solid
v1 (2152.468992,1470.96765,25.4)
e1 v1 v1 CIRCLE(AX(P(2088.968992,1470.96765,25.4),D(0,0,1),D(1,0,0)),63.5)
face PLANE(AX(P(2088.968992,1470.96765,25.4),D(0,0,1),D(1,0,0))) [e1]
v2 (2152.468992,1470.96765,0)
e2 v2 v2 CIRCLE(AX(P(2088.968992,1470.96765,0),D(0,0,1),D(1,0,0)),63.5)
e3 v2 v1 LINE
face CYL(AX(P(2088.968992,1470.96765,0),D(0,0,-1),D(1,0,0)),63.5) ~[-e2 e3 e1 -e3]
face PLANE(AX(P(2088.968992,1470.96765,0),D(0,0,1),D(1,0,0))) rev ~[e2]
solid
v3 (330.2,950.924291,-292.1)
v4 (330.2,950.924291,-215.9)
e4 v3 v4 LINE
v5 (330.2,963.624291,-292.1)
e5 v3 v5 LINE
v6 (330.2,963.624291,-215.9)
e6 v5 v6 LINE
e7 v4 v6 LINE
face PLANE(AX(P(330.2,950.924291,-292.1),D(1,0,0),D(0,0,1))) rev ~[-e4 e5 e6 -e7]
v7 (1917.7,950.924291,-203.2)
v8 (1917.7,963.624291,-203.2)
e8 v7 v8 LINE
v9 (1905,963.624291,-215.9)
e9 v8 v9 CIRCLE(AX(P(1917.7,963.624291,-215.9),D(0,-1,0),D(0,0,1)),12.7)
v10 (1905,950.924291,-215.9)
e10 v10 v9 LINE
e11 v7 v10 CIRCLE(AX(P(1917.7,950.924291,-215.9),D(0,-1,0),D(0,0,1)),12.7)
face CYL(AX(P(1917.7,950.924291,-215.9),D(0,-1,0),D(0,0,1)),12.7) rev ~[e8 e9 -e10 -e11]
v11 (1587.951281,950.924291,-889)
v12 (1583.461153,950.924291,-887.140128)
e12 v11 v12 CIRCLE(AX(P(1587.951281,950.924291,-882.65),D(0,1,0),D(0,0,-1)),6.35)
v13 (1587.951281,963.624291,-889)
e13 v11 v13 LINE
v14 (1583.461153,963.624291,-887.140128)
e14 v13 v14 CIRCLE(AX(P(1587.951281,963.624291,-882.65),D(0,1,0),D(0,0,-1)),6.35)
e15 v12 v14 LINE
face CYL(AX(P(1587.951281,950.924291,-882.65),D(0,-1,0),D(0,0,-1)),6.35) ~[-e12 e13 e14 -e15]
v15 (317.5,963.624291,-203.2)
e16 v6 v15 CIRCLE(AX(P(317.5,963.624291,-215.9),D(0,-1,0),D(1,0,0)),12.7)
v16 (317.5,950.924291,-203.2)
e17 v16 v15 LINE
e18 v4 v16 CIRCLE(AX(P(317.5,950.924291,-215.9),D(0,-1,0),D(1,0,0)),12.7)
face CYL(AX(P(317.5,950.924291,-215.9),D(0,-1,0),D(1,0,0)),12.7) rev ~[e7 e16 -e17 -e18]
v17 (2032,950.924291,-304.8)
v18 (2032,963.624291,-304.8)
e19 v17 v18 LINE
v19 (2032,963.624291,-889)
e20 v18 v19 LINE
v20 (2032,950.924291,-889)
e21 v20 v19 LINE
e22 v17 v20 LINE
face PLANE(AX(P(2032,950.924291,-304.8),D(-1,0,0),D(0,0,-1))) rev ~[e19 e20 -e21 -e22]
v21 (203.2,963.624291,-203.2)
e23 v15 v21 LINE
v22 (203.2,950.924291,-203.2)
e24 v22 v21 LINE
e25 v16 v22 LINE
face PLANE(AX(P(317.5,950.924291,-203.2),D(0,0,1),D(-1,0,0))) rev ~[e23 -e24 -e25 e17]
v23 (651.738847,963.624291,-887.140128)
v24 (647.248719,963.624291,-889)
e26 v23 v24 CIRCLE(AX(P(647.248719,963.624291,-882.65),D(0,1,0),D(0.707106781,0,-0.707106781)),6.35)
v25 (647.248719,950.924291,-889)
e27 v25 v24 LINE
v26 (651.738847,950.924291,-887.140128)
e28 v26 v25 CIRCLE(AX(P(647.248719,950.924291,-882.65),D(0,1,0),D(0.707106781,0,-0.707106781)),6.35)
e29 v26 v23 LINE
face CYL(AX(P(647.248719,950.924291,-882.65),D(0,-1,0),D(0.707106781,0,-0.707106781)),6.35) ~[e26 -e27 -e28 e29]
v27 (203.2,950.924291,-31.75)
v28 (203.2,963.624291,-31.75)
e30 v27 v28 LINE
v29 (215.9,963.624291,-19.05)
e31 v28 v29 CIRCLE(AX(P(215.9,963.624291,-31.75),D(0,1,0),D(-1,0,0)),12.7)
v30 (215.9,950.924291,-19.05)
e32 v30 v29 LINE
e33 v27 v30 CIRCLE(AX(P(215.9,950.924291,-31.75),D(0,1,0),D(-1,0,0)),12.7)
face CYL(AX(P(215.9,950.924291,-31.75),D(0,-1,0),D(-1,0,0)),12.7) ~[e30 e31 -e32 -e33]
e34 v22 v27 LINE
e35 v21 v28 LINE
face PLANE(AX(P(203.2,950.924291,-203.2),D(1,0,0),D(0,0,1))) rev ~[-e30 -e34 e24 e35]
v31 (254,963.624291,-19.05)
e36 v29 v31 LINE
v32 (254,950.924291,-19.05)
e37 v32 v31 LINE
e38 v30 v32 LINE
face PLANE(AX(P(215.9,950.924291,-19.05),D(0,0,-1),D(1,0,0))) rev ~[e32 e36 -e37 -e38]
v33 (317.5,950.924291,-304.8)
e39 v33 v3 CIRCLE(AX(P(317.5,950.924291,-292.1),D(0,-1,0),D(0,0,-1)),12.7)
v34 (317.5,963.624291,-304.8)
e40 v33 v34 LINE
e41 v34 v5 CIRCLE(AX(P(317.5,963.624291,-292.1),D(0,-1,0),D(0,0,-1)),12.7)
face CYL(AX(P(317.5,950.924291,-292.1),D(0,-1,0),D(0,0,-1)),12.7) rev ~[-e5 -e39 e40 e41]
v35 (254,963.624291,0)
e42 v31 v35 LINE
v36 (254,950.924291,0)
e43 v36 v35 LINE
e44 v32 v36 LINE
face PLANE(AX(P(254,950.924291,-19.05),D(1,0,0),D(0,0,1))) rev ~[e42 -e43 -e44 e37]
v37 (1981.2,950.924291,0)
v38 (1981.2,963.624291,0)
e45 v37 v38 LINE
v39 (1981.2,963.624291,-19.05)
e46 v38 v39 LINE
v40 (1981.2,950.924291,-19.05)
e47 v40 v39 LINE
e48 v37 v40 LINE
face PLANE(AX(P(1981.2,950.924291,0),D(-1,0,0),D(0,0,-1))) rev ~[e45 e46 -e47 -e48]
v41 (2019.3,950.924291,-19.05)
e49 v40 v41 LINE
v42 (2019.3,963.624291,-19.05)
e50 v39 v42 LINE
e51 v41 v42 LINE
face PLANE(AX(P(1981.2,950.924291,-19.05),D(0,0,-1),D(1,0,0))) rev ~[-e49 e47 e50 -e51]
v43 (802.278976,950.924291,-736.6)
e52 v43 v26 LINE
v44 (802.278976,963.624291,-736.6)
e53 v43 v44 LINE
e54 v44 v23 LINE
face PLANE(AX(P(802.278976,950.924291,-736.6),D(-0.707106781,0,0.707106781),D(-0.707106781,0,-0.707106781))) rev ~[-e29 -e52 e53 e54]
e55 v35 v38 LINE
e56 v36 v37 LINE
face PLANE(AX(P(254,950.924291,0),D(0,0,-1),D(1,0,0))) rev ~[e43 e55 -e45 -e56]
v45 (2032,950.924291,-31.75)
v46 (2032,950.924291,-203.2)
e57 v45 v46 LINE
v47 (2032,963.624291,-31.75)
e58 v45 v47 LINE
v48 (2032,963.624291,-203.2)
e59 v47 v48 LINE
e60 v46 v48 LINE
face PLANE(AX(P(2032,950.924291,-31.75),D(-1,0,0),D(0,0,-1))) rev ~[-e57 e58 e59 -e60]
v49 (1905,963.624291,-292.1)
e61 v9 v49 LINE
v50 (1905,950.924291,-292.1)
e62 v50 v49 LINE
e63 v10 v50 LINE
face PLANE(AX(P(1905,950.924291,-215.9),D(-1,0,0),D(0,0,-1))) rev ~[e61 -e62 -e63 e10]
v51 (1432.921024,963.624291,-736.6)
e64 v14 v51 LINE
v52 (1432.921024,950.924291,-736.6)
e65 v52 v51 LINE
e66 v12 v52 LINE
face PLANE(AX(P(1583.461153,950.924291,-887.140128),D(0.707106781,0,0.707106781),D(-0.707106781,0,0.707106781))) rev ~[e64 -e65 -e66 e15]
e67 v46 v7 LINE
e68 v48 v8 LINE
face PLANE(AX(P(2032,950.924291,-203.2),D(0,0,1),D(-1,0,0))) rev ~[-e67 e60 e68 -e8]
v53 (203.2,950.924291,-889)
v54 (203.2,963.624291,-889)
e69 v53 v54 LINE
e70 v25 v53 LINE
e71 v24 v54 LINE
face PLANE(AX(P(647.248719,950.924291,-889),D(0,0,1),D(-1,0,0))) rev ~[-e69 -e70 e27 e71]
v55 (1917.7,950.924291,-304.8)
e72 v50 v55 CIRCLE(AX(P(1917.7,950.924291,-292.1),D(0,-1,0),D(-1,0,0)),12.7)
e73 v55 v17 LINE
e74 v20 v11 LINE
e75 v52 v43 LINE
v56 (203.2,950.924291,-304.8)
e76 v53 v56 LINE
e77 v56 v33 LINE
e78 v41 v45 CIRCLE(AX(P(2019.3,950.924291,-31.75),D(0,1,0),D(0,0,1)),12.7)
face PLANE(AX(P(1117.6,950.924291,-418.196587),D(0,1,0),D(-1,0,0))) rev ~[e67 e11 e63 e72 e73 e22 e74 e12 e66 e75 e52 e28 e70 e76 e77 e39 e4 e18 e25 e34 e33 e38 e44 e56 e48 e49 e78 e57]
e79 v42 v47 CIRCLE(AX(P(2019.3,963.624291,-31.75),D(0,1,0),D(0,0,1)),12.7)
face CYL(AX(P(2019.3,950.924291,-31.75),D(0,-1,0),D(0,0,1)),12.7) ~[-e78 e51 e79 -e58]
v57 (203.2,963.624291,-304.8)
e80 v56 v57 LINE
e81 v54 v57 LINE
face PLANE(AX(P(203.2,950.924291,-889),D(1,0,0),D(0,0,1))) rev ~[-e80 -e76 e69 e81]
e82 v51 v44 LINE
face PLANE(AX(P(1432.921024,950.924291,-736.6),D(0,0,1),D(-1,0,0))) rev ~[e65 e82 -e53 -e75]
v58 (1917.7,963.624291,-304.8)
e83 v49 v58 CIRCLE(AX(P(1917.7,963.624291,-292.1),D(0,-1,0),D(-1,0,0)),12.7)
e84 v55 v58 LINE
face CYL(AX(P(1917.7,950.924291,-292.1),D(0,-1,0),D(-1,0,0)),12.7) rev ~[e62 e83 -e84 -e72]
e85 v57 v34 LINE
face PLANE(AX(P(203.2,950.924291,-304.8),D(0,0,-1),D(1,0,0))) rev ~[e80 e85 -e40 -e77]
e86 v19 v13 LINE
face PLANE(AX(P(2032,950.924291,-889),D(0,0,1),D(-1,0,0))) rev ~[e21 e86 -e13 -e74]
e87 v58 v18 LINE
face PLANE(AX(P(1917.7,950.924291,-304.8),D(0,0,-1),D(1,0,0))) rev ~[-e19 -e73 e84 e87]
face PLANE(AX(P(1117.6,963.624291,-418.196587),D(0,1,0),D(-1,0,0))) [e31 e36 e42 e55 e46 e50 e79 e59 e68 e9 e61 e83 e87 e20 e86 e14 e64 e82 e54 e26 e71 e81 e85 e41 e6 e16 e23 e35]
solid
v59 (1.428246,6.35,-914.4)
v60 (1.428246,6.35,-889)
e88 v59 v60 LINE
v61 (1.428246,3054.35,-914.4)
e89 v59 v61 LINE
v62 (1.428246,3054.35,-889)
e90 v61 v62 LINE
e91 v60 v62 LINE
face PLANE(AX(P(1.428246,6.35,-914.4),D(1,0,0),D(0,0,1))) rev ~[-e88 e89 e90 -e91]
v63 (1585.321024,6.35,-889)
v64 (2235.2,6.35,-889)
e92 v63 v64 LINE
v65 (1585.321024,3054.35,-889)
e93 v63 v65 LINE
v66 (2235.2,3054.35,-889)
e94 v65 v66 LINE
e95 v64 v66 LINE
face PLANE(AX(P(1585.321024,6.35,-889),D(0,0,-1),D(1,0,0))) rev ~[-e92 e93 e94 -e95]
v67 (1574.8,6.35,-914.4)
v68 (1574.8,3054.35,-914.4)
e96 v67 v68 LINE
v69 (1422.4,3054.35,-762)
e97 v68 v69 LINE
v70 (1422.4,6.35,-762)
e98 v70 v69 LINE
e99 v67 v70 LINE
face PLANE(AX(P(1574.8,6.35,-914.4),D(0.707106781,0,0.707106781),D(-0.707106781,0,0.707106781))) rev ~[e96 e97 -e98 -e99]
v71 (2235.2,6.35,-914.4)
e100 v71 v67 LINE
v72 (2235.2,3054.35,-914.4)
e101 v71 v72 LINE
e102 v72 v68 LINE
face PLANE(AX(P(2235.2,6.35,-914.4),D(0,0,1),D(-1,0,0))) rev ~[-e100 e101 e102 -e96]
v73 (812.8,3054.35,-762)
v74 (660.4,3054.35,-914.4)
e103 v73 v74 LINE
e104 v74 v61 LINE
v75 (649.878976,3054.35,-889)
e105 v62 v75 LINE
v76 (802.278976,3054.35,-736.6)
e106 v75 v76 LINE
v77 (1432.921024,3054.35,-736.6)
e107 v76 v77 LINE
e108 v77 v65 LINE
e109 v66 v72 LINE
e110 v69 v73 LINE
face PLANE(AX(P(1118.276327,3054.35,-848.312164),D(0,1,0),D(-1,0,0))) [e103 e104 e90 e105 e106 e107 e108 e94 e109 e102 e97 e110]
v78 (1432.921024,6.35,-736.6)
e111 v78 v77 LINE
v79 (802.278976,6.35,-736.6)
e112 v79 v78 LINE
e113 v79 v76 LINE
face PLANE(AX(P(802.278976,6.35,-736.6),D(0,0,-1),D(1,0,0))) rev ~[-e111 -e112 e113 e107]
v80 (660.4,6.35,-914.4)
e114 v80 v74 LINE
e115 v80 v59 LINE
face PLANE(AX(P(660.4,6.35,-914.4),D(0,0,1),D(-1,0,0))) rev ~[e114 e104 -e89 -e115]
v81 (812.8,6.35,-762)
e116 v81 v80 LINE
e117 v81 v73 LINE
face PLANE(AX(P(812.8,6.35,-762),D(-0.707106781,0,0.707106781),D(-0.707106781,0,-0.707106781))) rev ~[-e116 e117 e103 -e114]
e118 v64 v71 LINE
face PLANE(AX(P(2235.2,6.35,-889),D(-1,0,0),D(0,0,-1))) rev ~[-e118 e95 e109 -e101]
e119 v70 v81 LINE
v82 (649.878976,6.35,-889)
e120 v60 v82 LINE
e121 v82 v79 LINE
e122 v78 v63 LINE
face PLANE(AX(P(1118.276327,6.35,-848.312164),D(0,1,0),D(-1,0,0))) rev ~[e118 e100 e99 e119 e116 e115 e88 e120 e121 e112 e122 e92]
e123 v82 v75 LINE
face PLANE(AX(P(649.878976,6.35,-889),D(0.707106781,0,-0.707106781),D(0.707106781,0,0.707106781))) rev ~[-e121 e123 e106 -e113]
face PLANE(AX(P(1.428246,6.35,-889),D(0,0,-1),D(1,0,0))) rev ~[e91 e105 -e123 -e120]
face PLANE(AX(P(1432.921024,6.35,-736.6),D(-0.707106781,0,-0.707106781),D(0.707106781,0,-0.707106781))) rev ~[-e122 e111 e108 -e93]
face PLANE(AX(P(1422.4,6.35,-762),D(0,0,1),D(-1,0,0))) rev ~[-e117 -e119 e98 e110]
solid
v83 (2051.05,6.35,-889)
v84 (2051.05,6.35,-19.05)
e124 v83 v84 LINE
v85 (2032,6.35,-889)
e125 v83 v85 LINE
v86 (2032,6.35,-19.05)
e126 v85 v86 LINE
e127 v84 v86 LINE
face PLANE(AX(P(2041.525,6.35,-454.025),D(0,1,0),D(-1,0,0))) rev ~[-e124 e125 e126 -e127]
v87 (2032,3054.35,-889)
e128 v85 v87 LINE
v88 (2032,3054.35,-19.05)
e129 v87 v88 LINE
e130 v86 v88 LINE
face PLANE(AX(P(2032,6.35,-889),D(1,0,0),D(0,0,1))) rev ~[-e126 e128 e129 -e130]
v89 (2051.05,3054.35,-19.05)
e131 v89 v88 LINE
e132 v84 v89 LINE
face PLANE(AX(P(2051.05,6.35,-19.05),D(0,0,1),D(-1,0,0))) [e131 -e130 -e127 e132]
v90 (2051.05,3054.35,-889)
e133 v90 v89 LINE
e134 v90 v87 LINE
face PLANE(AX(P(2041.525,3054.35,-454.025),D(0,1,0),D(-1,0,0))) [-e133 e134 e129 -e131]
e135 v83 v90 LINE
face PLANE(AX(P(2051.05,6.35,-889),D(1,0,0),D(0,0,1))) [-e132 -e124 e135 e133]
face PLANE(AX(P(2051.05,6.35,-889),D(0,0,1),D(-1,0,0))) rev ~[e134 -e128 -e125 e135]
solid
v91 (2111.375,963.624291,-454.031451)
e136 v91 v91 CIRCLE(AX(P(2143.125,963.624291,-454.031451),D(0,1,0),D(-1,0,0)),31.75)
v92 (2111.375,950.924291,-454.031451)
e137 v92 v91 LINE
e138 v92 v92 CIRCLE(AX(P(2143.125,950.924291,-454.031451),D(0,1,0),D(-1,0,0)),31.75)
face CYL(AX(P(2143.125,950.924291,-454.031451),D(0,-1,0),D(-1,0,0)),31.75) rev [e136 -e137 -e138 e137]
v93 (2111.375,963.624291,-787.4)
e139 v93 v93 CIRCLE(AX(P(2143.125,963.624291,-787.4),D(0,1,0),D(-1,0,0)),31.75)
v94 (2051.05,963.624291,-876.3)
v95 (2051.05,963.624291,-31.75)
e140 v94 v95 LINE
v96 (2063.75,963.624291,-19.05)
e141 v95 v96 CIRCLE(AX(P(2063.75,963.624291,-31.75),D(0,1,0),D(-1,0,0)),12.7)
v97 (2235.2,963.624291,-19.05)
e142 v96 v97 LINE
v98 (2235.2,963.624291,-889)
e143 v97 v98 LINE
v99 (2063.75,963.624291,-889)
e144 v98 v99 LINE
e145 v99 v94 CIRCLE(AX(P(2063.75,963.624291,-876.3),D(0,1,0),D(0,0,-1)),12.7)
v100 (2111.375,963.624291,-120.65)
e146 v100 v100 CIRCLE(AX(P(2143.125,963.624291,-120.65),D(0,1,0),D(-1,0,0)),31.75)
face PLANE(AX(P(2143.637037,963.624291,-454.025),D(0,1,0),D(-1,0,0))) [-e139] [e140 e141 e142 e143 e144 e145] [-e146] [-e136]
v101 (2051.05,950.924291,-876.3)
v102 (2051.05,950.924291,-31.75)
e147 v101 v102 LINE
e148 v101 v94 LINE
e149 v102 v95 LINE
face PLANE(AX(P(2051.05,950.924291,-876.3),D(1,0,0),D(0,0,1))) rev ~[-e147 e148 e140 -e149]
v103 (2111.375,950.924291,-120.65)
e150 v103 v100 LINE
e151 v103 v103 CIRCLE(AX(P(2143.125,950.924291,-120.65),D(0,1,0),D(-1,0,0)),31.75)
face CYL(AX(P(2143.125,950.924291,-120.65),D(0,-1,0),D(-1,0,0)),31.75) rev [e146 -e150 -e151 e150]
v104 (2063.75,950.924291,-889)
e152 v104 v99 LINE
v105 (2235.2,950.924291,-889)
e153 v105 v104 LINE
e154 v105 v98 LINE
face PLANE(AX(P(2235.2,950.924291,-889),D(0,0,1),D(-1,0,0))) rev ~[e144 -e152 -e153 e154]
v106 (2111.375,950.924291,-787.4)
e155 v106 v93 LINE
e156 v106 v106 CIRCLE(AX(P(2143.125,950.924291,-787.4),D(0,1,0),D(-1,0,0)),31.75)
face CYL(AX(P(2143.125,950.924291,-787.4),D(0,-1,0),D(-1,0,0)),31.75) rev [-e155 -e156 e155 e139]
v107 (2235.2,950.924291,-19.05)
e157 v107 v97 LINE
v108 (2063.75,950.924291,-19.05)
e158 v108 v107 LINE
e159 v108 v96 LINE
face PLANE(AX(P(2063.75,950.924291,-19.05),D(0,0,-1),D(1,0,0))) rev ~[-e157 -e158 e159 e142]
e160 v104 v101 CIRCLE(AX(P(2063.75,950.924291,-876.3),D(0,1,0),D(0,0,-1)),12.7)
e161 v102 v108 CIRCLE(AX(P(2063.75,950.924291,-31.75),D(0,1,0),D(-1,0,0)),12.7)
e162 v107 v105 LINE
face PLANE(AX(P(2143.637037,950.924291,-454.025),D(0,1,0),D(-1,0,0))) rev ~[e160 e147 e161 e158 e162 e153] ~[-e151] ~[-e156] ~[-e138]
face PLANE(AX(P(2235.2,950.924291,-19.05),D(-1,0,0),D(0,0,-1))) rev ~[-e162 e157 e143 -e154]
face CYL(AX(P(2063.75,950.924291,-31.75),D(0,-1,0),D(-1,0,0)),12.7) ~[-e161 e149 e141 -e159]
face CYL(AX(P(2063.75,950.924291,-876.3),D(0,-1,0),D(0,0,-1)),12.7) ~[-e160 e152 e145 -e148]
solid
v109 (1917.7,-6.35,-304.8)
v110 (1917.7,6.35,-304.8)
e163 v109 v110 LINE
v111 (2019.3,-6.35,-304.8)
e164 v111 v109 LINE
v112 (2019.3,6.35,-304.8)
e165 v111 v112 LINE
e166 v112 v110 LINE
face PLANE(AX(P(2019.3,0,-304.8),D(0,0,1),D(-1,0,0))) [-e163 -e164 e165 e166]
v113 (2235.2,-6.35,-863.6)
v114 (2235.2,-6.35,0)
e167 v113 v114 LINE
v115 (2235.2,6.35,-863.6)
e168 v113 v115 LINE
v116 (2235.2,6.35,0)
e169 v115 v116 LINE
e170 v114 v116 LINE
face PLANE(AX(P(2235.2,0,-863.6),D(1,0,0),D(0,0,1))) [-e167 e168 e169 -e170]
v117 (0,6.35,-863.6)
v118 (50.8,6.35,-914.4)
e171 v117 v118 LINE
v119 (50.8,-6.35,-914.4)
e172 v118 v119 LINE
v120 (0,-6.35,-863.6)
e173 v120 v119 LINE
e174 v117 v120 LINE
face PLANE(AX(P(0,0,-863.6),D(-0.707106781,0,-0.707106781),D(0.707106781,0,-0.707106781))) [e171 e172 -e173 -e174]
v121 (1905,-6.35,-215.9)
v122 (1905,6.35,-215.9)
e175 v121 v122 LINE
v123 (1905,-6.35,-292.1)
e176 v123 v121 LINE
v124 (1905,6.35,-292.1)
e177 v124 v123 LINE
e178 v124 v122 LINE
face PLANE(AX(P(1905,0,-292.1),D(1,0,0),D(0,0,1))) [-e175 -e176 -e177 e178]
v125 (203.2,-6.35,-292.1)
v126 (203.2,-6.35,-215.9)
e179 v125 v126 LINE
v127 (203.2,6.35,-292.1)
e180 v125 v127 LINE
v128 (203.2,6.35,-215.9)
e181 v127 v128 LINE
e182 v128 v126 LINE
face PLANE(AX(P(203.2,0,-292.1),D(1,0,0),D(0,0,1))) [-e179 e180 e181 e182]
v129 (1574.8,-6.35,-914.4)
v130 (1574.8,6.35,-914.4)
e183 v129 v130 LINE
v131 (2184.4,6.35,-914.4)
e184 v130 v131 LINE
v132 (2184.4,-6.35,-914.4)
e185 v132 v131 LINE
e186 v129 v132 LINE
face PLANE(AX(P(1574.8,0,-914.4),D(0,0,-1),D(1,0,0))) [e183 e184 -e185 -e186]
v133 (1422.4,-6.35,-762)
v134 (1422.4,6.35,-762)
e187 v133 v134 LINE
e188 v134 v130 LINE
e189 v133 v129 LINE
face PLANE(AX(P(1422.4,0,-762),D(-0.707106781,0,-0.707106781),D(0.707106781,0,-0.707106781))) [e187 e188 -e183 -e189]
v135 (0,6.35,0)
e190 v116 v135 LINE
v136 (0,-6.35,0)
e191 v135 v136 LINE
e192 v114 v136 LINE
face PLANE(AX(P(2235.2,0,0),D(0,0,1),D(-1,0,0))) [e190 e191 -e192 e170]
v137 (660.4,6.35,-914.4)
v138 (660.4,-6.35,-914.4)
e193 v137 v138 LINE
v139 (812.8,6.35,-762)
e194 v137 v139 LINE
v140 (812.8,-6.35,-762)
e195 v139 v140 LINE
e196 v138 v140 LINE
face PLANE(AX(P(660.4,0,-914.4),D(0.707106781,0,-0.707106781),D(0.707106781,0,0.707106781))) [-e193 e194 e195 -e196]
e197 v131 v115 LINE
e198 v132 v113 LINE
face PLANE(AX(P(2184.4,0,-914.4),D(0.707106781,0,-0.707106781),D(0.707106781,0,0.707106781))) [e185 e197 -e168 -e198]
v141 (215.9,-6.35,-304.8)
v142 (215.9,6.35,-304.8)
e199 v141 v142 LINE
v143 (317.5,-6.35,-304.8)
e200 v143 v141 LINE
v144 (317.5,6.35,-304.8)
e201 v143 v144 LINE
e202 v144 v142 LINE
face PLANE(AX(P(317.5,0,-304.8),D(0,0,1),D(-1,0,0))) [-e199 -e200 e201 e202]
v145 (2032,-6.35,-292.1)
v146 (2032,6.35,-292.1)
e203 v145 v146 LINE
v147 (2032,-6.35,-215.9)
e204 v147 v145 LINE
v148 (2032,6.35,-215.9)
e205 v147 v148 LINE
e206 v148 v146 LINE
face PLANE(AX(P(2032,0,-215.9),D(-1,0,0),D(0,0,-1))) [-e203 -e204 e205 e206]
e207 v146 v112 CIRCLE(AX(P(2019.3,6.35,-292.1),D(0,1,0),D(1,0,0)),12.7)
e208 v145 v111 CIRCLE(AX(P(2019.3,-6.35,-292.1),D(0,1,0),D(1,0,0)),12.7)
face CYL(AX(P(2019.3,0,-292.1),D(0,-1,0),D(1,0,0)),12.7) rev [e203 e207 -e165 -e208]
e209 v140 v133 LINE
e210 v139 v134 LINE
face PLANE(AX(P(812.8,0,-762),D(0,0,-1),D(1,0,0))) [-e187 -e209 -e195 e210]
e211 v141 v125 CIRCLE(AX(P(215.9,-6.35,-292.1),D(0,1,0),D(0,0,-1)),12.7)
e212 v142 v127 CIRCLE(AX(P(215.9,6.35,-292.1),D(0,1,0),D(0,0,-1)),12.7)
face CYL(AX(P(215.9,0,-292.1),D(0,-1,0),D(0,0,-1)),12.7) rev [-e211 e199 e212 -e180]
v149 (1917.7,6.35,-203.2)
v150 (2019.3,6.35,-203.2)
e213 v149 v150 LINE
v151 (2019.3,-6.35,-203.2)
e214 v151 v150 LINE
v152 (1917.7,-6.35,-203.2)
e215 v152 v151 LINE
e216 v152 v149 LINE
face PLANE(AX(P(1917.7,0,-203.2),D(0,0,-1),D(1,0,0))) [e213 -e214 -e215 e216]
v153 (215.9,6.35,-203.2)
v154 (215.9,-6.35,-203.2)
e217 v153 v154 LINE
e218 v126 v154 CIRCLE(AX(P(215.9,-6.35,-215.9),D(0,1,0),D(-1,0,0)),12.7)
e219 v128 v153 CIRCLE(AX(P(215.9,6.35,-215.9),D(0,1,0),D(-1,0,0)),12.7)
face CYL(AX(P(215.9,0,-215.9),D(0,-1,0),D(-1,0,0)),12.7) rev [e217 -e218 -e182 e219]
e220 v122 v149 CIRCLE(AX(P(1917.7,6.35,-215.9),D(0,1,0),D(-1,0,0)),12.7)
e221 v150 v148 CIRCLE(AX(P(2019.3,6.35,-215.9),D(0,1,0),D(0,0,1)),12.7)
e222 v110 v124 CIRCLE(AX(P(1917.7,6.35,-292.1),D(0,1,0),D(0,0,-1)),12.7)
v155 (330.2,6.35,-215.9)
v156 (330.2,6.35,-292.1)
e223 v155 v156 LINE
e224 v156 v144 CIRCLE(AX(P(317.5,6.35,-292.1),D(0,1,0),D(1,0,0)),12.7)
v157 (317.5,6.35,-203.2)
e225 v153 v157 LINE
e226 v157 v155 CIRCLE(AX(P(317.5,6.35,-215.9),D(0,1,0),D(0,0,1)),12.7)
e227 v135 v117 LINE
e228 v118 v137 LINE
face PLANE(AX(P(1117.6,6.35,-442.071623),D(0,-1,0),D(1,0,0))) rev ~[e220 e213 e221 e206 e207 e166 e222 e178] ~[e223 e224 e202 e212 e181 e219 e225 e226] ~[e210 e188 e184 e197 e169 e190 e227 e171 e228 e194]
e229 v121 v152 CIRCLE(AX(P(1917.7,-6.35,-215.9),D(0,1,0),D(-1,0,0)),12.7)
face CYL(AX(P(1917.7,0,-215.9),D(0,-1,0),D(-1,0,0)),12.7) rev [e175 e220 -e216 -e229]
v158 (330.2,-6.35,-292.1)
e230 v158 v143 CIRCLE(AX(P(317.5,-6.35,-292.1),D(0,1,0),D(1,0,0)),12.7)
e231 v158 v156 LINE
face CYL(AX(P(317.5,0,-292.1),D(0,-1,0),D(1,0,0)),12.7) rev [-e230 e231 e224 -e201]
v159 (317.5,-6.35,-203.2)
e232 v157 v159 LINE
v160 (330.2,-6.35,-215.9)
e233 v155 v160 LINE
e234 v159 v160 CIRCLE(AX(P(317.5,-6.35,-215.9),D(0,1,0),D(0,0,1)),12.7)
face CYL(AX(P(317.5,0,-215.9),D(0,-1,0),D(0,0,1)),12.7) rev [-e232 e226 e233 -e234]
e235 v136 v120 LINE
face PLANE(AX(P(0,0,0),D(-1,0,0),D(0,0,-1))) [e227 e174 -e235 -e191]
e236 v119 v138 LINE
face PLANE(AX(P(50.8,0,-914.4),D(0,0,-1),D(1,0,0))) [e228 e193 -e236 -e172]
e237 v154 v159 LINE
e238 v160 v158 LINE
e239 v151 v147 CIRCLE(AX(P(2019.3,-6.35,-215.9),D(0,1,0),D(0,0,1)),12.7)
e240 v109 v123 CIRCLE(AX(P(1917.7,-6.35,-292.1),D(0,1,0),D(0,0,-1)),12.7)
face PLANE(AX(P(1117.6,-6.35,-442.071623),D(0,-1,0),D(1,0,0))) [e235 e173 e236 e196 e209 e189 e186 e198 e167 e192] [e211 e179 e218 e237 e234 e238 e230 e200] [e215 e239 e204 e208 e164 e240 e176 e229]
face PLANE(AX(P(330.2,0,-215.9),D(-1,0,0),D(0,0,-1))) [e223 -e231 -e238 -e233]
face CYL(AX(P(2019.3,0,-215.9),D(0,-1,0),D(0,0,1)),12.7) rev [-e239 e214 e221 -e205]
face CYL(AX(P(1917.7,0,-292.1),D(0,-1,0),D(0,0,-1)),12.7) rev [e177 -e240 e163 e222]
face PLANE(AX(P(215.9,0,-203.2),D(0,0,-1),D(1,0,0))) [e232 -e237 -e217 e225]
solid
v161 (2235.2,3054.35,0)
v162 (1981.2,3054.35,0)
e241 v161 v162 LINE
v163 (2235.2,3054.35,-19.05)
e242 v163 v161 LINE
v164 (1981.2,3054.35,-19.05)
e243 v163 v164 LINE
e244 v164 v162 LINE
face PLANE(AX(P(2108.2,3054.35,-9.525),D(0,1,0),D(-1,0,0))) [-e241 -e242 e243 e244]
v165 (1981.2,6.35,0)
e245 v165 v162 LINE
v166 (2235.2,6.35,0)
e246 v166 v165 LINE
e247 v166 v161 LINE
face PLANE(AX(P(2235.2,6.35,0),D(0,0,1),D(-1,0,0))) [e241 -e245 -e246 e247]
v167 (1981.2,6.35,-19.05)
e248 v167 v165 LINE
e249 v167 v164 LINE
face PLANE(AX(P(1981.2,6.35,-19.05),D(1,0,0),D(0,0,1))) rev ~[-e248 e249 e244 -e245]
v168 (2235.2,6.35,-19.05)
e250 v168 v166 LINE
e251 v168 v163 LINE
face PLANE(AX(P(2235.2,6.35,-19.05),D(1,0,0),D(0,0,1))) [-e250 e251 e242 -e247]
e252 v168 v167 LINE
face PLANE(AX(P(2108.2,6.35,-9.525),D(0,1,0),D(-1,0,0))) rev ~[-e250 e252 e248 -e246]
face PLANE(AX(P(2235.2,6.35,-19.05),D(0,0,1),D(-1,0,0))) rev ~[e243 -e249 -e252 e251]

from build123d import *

# Parameters (mm, degrees)
F1_DEPTH  = 6.35
F2_W      = 254
F2_H      = 19.05
F3_DEPTH  = 3048
F5_DEPTH  = 3048
F6_W      = 19.05
F6_H      = 869.95
F7_DEPTH  = 3048
F10_DEPTH = 12.7
F11_R     = 31.75
F12_DEPTH = 12.7
F13_R     = 63.5
F14_DEPTH = 25.4


with BuildPart() as f1:
    # F0 (on Front) → F1 (new body, symmetric)
    with BuildSketch(Plane.XZ):
        Polygon((2235.2, 0), (0, 0), (0, -863.6), (50.8, -914.4), (660.4, -914.4), (812.8, -762), (1422.4, -762), (1574.8, -914.4), (2184.4, -914.4), (2235.2, -863.6), align=None)
        with BuildLine():
            ThreePointArc((203.2, -215.9), (206.9197438789, -206.9197438789), (215.9, -203.2))
            Line((215.9, -203.2), (317.5, -203.2))
            ThreePointArc((317.5, -203.2), (326.4802561211, -206.9197438789), (330.2, -215.9))
            Line((330.2, -215.9), (330.2, -292.1))
            ThreePointArc((330.2, -292.1), (326.4802561211, -301.0802561211), (317.5, -304.8))
            Line((317.5, -304.8), (215.9, -304.8))
            ThreePointArc((215.9, -304.8), (206.9197438789, -301.0802561211), (203.2, -292.1))
            Line((203.2, -292.1), (203.2, -215.9))
        make_face(mode=Mode.SUBTRACT)
        with BuildLine():
            Line((1905, -292.1), (1905, -215.9))
            ThreePointArc((1905, -215.9), (1908.7197438789, -206.9197438789), (1917.7, -203.2))
            Line((1917.7, -203.2), (2019.3, -203.2))
            ThreePointArc((2019.3, -203.2), (2028.2802561211, -206.9197438789), (2032, -215.9))
            Line((2032, -215.9), (2032, -292.1))
            ThreePointArc((2032, -292.1), (2028.2802561211, -301.0802561211), (2019.3, -304.8))
            Line((2019.3, -304.8), (1917.7, -304.8))
            ThreePointArc((1917.7, -304.8), (1908.7197438789, -301.0802561211), (1905, -292.1))
        make_face(mode=Mode.SUBTRACT)
    extrude(amount=F1_DEPTH, both=True)


with BuildPart() as f3:
    # F2 (on face) → F3 (new body)
    with BuildSketch(Plane(origin=(0, 6.35, 0), x_dir=(-1, 0, 0), z_dir=(0, 1, 0))):
        with Locations((-2108.2, -9.525)):
            Rectangle(F2_W, F2_H)
    extrude(amount=F3_DEPTH)


with BuildPart() as f5:
    # F4 (on face) → F5 (new body)
    with BuildSketch(Plane(origin=(0, 6.35, 0), x_dir=(-1, 0, 0), z_dir=(0, 1, 0))):
        Polygon((-2235.2, -889), (-2235.2, -914.4), (-1574.8, -914.4), (-1422.4, -762), (-812.8, -762), (-660.4, -914.4), (-1.4282464981, -914.4), (-1.4282464981, -889), (-649.8789755157, -889), (-802.2789755157, -736.6), (-1432.9210244843, -736.6), (-1585.3210244843, -889), align=None)
    extrude(amount=F5_DEPTH)


with BuildPart() as f7:
    # F6 (on face) → F7 (new body)
    with BuildSketch(Plane(origin=(0, 6.35, 0), x_dir=(-1, 0, 0), z_dir=(0, 1, 0))):
        with Locations((-2041.525, -454.025)):
            Rectangle(F6_W, F6_H)
    extrude(amount=F7_DEPTH)


with BuildPart() as f10:
    # F9 (on offset) → F10 (new body)
    with BuildSketch(Plane(origin=(0, 950.9242908865, 0), x_dir=(-1, 0, 0), z_dir=(0, 1, 0))):
        with BuildLine():
            Line((-2032, -304.8), (-2032, -889))
            Line((-2032, -889), (-1587.9512806053, -889))
            ThreePointArc((-1587.9512806053, -889), (-1585.5212408098, -888.5166350314), (-1583.4611525448, -887.1401280605))
            Line((-1583.4611525448, -887.1401280605), (-1432.9210244843, -736.6))
            Line((-1432.9210244843, -736.6), (-802.2789755157, -736.6))
            Line((-802.2789755157, -736.6), (-651.7388474552, -887.1401280605))
            ThreePointArc((-651.7388474552, -887.1401280605), (-649.6787591902, -888.5166350314), (-647.2487193947, -889))
            Line((-647.2487193947, -889), (-203.2, -889))
            Line((-203.2, -889), (-203.2, -304.8))
            Line((-203.2, -304.8), (-317.5, -304.8))
            ThreePointArc((-317.5, -304.8), (-326.4802561211, -301.0802561211), (-330.2, -292.1))
            Line((-330.2, -292.1), (-330.2, -215.9))
            ThreePointArc((-330.2, -215.9), (-326.4802561211, -206.9197438789), (-317.5, -203.2))
            Line((-317.5, -203.2), (-203.2, -203.2))
            Line((-203.2, -203.2), (-203.2, -31.75))
            ThreePointArc((-203.2, -31.75), (-206.9197438789, -22.7697438789), (-215.9, -19.05))
            Line((-215.9, -19.05), (-254, -19.05))
            Line((-254, -19.05), (-254, 0))
            Line((-254, 0), (-1981.2, 0))
            Line((-1981.2, 0), (-1981.2, -19.05))
            Line((-1981.2, -19.05), (-2019.3, -19.05))
            ThreePointArc((-2019.3, -19.05), (-2028.2802561211, -22.7697438789), (-2032, -31.75))
            Line((-2032, -31.75), (-2032, -203.2))
            Line((-2032, -203.2), (-1917.7, -203.2))
            ThreePointArc((-1917.7, -203.2), (-1908.7197438789, -206.9197438789), (-1905, -215.9))
            Line((-1905, -215.9), (-1905, -292.1))
            ThreePointArc((-1905, -292.1), (-1908.7197438789, -301.0802561211), (-1917.7, -304.8))
            Line((-1917.7, -304.8), (-2032, -304.8))
        make_face()
    extrude(amount=F10_DEPTH)


with BuildPart() as f12:
    # F11 (on offset) → F12 (new body)
    with BuildSketch(Plane(origin=(0, 950.9242908865, 0), x_dir=(-1, 0, 0), z_dir=(0, 1, 0))):
        with BuildLine():
            Line((-2051.05, -876.3), (-2051.05, -31.75))
            ThreePointArc((-2051.05, -31.75), (-2054.7697438789, -22.7697438789), (-2063.75, -19.05))
            Line((-2063.75, -19.05), (-2235.2, -19.05))
            Line((-2235.2, -19.05), (-2235.2, -889))
            Line((-2235.2, -889), (-2063.75, -889))
            ThreePointArc((-2063.75, -889), (-2054.7697438789, -885.2802561211), (-2051.05, -876.3))
        make_face()
        with Locations((-2143.125, -787.4)):
            Circle(F11_R, mode=Mode.SUBTRACT)
        with Locations((-2143.125, -454.0314514875)):
            Circle(F11_R, mode=Mode.SUBTRACT)
        with Locations((-2143.125, -120.65)):
            Circle(F11_R, mode=Mode.SUBTRACT)
    extrude(amount=F12_DEPTH)


with BuildPart() as f14:
    # F13 (on face) → F14 (new body)
    with BuildSketch(Plane.XY):
        with Locations((2088.9689922333, 1470.9676504135)):
            Circle(F13_R)
    extrude(amount=F14_DEPTH)


solid = Compound([f1.part, f3.part, f5.part, f7.part, f10.part, f12.part, f14.part])
